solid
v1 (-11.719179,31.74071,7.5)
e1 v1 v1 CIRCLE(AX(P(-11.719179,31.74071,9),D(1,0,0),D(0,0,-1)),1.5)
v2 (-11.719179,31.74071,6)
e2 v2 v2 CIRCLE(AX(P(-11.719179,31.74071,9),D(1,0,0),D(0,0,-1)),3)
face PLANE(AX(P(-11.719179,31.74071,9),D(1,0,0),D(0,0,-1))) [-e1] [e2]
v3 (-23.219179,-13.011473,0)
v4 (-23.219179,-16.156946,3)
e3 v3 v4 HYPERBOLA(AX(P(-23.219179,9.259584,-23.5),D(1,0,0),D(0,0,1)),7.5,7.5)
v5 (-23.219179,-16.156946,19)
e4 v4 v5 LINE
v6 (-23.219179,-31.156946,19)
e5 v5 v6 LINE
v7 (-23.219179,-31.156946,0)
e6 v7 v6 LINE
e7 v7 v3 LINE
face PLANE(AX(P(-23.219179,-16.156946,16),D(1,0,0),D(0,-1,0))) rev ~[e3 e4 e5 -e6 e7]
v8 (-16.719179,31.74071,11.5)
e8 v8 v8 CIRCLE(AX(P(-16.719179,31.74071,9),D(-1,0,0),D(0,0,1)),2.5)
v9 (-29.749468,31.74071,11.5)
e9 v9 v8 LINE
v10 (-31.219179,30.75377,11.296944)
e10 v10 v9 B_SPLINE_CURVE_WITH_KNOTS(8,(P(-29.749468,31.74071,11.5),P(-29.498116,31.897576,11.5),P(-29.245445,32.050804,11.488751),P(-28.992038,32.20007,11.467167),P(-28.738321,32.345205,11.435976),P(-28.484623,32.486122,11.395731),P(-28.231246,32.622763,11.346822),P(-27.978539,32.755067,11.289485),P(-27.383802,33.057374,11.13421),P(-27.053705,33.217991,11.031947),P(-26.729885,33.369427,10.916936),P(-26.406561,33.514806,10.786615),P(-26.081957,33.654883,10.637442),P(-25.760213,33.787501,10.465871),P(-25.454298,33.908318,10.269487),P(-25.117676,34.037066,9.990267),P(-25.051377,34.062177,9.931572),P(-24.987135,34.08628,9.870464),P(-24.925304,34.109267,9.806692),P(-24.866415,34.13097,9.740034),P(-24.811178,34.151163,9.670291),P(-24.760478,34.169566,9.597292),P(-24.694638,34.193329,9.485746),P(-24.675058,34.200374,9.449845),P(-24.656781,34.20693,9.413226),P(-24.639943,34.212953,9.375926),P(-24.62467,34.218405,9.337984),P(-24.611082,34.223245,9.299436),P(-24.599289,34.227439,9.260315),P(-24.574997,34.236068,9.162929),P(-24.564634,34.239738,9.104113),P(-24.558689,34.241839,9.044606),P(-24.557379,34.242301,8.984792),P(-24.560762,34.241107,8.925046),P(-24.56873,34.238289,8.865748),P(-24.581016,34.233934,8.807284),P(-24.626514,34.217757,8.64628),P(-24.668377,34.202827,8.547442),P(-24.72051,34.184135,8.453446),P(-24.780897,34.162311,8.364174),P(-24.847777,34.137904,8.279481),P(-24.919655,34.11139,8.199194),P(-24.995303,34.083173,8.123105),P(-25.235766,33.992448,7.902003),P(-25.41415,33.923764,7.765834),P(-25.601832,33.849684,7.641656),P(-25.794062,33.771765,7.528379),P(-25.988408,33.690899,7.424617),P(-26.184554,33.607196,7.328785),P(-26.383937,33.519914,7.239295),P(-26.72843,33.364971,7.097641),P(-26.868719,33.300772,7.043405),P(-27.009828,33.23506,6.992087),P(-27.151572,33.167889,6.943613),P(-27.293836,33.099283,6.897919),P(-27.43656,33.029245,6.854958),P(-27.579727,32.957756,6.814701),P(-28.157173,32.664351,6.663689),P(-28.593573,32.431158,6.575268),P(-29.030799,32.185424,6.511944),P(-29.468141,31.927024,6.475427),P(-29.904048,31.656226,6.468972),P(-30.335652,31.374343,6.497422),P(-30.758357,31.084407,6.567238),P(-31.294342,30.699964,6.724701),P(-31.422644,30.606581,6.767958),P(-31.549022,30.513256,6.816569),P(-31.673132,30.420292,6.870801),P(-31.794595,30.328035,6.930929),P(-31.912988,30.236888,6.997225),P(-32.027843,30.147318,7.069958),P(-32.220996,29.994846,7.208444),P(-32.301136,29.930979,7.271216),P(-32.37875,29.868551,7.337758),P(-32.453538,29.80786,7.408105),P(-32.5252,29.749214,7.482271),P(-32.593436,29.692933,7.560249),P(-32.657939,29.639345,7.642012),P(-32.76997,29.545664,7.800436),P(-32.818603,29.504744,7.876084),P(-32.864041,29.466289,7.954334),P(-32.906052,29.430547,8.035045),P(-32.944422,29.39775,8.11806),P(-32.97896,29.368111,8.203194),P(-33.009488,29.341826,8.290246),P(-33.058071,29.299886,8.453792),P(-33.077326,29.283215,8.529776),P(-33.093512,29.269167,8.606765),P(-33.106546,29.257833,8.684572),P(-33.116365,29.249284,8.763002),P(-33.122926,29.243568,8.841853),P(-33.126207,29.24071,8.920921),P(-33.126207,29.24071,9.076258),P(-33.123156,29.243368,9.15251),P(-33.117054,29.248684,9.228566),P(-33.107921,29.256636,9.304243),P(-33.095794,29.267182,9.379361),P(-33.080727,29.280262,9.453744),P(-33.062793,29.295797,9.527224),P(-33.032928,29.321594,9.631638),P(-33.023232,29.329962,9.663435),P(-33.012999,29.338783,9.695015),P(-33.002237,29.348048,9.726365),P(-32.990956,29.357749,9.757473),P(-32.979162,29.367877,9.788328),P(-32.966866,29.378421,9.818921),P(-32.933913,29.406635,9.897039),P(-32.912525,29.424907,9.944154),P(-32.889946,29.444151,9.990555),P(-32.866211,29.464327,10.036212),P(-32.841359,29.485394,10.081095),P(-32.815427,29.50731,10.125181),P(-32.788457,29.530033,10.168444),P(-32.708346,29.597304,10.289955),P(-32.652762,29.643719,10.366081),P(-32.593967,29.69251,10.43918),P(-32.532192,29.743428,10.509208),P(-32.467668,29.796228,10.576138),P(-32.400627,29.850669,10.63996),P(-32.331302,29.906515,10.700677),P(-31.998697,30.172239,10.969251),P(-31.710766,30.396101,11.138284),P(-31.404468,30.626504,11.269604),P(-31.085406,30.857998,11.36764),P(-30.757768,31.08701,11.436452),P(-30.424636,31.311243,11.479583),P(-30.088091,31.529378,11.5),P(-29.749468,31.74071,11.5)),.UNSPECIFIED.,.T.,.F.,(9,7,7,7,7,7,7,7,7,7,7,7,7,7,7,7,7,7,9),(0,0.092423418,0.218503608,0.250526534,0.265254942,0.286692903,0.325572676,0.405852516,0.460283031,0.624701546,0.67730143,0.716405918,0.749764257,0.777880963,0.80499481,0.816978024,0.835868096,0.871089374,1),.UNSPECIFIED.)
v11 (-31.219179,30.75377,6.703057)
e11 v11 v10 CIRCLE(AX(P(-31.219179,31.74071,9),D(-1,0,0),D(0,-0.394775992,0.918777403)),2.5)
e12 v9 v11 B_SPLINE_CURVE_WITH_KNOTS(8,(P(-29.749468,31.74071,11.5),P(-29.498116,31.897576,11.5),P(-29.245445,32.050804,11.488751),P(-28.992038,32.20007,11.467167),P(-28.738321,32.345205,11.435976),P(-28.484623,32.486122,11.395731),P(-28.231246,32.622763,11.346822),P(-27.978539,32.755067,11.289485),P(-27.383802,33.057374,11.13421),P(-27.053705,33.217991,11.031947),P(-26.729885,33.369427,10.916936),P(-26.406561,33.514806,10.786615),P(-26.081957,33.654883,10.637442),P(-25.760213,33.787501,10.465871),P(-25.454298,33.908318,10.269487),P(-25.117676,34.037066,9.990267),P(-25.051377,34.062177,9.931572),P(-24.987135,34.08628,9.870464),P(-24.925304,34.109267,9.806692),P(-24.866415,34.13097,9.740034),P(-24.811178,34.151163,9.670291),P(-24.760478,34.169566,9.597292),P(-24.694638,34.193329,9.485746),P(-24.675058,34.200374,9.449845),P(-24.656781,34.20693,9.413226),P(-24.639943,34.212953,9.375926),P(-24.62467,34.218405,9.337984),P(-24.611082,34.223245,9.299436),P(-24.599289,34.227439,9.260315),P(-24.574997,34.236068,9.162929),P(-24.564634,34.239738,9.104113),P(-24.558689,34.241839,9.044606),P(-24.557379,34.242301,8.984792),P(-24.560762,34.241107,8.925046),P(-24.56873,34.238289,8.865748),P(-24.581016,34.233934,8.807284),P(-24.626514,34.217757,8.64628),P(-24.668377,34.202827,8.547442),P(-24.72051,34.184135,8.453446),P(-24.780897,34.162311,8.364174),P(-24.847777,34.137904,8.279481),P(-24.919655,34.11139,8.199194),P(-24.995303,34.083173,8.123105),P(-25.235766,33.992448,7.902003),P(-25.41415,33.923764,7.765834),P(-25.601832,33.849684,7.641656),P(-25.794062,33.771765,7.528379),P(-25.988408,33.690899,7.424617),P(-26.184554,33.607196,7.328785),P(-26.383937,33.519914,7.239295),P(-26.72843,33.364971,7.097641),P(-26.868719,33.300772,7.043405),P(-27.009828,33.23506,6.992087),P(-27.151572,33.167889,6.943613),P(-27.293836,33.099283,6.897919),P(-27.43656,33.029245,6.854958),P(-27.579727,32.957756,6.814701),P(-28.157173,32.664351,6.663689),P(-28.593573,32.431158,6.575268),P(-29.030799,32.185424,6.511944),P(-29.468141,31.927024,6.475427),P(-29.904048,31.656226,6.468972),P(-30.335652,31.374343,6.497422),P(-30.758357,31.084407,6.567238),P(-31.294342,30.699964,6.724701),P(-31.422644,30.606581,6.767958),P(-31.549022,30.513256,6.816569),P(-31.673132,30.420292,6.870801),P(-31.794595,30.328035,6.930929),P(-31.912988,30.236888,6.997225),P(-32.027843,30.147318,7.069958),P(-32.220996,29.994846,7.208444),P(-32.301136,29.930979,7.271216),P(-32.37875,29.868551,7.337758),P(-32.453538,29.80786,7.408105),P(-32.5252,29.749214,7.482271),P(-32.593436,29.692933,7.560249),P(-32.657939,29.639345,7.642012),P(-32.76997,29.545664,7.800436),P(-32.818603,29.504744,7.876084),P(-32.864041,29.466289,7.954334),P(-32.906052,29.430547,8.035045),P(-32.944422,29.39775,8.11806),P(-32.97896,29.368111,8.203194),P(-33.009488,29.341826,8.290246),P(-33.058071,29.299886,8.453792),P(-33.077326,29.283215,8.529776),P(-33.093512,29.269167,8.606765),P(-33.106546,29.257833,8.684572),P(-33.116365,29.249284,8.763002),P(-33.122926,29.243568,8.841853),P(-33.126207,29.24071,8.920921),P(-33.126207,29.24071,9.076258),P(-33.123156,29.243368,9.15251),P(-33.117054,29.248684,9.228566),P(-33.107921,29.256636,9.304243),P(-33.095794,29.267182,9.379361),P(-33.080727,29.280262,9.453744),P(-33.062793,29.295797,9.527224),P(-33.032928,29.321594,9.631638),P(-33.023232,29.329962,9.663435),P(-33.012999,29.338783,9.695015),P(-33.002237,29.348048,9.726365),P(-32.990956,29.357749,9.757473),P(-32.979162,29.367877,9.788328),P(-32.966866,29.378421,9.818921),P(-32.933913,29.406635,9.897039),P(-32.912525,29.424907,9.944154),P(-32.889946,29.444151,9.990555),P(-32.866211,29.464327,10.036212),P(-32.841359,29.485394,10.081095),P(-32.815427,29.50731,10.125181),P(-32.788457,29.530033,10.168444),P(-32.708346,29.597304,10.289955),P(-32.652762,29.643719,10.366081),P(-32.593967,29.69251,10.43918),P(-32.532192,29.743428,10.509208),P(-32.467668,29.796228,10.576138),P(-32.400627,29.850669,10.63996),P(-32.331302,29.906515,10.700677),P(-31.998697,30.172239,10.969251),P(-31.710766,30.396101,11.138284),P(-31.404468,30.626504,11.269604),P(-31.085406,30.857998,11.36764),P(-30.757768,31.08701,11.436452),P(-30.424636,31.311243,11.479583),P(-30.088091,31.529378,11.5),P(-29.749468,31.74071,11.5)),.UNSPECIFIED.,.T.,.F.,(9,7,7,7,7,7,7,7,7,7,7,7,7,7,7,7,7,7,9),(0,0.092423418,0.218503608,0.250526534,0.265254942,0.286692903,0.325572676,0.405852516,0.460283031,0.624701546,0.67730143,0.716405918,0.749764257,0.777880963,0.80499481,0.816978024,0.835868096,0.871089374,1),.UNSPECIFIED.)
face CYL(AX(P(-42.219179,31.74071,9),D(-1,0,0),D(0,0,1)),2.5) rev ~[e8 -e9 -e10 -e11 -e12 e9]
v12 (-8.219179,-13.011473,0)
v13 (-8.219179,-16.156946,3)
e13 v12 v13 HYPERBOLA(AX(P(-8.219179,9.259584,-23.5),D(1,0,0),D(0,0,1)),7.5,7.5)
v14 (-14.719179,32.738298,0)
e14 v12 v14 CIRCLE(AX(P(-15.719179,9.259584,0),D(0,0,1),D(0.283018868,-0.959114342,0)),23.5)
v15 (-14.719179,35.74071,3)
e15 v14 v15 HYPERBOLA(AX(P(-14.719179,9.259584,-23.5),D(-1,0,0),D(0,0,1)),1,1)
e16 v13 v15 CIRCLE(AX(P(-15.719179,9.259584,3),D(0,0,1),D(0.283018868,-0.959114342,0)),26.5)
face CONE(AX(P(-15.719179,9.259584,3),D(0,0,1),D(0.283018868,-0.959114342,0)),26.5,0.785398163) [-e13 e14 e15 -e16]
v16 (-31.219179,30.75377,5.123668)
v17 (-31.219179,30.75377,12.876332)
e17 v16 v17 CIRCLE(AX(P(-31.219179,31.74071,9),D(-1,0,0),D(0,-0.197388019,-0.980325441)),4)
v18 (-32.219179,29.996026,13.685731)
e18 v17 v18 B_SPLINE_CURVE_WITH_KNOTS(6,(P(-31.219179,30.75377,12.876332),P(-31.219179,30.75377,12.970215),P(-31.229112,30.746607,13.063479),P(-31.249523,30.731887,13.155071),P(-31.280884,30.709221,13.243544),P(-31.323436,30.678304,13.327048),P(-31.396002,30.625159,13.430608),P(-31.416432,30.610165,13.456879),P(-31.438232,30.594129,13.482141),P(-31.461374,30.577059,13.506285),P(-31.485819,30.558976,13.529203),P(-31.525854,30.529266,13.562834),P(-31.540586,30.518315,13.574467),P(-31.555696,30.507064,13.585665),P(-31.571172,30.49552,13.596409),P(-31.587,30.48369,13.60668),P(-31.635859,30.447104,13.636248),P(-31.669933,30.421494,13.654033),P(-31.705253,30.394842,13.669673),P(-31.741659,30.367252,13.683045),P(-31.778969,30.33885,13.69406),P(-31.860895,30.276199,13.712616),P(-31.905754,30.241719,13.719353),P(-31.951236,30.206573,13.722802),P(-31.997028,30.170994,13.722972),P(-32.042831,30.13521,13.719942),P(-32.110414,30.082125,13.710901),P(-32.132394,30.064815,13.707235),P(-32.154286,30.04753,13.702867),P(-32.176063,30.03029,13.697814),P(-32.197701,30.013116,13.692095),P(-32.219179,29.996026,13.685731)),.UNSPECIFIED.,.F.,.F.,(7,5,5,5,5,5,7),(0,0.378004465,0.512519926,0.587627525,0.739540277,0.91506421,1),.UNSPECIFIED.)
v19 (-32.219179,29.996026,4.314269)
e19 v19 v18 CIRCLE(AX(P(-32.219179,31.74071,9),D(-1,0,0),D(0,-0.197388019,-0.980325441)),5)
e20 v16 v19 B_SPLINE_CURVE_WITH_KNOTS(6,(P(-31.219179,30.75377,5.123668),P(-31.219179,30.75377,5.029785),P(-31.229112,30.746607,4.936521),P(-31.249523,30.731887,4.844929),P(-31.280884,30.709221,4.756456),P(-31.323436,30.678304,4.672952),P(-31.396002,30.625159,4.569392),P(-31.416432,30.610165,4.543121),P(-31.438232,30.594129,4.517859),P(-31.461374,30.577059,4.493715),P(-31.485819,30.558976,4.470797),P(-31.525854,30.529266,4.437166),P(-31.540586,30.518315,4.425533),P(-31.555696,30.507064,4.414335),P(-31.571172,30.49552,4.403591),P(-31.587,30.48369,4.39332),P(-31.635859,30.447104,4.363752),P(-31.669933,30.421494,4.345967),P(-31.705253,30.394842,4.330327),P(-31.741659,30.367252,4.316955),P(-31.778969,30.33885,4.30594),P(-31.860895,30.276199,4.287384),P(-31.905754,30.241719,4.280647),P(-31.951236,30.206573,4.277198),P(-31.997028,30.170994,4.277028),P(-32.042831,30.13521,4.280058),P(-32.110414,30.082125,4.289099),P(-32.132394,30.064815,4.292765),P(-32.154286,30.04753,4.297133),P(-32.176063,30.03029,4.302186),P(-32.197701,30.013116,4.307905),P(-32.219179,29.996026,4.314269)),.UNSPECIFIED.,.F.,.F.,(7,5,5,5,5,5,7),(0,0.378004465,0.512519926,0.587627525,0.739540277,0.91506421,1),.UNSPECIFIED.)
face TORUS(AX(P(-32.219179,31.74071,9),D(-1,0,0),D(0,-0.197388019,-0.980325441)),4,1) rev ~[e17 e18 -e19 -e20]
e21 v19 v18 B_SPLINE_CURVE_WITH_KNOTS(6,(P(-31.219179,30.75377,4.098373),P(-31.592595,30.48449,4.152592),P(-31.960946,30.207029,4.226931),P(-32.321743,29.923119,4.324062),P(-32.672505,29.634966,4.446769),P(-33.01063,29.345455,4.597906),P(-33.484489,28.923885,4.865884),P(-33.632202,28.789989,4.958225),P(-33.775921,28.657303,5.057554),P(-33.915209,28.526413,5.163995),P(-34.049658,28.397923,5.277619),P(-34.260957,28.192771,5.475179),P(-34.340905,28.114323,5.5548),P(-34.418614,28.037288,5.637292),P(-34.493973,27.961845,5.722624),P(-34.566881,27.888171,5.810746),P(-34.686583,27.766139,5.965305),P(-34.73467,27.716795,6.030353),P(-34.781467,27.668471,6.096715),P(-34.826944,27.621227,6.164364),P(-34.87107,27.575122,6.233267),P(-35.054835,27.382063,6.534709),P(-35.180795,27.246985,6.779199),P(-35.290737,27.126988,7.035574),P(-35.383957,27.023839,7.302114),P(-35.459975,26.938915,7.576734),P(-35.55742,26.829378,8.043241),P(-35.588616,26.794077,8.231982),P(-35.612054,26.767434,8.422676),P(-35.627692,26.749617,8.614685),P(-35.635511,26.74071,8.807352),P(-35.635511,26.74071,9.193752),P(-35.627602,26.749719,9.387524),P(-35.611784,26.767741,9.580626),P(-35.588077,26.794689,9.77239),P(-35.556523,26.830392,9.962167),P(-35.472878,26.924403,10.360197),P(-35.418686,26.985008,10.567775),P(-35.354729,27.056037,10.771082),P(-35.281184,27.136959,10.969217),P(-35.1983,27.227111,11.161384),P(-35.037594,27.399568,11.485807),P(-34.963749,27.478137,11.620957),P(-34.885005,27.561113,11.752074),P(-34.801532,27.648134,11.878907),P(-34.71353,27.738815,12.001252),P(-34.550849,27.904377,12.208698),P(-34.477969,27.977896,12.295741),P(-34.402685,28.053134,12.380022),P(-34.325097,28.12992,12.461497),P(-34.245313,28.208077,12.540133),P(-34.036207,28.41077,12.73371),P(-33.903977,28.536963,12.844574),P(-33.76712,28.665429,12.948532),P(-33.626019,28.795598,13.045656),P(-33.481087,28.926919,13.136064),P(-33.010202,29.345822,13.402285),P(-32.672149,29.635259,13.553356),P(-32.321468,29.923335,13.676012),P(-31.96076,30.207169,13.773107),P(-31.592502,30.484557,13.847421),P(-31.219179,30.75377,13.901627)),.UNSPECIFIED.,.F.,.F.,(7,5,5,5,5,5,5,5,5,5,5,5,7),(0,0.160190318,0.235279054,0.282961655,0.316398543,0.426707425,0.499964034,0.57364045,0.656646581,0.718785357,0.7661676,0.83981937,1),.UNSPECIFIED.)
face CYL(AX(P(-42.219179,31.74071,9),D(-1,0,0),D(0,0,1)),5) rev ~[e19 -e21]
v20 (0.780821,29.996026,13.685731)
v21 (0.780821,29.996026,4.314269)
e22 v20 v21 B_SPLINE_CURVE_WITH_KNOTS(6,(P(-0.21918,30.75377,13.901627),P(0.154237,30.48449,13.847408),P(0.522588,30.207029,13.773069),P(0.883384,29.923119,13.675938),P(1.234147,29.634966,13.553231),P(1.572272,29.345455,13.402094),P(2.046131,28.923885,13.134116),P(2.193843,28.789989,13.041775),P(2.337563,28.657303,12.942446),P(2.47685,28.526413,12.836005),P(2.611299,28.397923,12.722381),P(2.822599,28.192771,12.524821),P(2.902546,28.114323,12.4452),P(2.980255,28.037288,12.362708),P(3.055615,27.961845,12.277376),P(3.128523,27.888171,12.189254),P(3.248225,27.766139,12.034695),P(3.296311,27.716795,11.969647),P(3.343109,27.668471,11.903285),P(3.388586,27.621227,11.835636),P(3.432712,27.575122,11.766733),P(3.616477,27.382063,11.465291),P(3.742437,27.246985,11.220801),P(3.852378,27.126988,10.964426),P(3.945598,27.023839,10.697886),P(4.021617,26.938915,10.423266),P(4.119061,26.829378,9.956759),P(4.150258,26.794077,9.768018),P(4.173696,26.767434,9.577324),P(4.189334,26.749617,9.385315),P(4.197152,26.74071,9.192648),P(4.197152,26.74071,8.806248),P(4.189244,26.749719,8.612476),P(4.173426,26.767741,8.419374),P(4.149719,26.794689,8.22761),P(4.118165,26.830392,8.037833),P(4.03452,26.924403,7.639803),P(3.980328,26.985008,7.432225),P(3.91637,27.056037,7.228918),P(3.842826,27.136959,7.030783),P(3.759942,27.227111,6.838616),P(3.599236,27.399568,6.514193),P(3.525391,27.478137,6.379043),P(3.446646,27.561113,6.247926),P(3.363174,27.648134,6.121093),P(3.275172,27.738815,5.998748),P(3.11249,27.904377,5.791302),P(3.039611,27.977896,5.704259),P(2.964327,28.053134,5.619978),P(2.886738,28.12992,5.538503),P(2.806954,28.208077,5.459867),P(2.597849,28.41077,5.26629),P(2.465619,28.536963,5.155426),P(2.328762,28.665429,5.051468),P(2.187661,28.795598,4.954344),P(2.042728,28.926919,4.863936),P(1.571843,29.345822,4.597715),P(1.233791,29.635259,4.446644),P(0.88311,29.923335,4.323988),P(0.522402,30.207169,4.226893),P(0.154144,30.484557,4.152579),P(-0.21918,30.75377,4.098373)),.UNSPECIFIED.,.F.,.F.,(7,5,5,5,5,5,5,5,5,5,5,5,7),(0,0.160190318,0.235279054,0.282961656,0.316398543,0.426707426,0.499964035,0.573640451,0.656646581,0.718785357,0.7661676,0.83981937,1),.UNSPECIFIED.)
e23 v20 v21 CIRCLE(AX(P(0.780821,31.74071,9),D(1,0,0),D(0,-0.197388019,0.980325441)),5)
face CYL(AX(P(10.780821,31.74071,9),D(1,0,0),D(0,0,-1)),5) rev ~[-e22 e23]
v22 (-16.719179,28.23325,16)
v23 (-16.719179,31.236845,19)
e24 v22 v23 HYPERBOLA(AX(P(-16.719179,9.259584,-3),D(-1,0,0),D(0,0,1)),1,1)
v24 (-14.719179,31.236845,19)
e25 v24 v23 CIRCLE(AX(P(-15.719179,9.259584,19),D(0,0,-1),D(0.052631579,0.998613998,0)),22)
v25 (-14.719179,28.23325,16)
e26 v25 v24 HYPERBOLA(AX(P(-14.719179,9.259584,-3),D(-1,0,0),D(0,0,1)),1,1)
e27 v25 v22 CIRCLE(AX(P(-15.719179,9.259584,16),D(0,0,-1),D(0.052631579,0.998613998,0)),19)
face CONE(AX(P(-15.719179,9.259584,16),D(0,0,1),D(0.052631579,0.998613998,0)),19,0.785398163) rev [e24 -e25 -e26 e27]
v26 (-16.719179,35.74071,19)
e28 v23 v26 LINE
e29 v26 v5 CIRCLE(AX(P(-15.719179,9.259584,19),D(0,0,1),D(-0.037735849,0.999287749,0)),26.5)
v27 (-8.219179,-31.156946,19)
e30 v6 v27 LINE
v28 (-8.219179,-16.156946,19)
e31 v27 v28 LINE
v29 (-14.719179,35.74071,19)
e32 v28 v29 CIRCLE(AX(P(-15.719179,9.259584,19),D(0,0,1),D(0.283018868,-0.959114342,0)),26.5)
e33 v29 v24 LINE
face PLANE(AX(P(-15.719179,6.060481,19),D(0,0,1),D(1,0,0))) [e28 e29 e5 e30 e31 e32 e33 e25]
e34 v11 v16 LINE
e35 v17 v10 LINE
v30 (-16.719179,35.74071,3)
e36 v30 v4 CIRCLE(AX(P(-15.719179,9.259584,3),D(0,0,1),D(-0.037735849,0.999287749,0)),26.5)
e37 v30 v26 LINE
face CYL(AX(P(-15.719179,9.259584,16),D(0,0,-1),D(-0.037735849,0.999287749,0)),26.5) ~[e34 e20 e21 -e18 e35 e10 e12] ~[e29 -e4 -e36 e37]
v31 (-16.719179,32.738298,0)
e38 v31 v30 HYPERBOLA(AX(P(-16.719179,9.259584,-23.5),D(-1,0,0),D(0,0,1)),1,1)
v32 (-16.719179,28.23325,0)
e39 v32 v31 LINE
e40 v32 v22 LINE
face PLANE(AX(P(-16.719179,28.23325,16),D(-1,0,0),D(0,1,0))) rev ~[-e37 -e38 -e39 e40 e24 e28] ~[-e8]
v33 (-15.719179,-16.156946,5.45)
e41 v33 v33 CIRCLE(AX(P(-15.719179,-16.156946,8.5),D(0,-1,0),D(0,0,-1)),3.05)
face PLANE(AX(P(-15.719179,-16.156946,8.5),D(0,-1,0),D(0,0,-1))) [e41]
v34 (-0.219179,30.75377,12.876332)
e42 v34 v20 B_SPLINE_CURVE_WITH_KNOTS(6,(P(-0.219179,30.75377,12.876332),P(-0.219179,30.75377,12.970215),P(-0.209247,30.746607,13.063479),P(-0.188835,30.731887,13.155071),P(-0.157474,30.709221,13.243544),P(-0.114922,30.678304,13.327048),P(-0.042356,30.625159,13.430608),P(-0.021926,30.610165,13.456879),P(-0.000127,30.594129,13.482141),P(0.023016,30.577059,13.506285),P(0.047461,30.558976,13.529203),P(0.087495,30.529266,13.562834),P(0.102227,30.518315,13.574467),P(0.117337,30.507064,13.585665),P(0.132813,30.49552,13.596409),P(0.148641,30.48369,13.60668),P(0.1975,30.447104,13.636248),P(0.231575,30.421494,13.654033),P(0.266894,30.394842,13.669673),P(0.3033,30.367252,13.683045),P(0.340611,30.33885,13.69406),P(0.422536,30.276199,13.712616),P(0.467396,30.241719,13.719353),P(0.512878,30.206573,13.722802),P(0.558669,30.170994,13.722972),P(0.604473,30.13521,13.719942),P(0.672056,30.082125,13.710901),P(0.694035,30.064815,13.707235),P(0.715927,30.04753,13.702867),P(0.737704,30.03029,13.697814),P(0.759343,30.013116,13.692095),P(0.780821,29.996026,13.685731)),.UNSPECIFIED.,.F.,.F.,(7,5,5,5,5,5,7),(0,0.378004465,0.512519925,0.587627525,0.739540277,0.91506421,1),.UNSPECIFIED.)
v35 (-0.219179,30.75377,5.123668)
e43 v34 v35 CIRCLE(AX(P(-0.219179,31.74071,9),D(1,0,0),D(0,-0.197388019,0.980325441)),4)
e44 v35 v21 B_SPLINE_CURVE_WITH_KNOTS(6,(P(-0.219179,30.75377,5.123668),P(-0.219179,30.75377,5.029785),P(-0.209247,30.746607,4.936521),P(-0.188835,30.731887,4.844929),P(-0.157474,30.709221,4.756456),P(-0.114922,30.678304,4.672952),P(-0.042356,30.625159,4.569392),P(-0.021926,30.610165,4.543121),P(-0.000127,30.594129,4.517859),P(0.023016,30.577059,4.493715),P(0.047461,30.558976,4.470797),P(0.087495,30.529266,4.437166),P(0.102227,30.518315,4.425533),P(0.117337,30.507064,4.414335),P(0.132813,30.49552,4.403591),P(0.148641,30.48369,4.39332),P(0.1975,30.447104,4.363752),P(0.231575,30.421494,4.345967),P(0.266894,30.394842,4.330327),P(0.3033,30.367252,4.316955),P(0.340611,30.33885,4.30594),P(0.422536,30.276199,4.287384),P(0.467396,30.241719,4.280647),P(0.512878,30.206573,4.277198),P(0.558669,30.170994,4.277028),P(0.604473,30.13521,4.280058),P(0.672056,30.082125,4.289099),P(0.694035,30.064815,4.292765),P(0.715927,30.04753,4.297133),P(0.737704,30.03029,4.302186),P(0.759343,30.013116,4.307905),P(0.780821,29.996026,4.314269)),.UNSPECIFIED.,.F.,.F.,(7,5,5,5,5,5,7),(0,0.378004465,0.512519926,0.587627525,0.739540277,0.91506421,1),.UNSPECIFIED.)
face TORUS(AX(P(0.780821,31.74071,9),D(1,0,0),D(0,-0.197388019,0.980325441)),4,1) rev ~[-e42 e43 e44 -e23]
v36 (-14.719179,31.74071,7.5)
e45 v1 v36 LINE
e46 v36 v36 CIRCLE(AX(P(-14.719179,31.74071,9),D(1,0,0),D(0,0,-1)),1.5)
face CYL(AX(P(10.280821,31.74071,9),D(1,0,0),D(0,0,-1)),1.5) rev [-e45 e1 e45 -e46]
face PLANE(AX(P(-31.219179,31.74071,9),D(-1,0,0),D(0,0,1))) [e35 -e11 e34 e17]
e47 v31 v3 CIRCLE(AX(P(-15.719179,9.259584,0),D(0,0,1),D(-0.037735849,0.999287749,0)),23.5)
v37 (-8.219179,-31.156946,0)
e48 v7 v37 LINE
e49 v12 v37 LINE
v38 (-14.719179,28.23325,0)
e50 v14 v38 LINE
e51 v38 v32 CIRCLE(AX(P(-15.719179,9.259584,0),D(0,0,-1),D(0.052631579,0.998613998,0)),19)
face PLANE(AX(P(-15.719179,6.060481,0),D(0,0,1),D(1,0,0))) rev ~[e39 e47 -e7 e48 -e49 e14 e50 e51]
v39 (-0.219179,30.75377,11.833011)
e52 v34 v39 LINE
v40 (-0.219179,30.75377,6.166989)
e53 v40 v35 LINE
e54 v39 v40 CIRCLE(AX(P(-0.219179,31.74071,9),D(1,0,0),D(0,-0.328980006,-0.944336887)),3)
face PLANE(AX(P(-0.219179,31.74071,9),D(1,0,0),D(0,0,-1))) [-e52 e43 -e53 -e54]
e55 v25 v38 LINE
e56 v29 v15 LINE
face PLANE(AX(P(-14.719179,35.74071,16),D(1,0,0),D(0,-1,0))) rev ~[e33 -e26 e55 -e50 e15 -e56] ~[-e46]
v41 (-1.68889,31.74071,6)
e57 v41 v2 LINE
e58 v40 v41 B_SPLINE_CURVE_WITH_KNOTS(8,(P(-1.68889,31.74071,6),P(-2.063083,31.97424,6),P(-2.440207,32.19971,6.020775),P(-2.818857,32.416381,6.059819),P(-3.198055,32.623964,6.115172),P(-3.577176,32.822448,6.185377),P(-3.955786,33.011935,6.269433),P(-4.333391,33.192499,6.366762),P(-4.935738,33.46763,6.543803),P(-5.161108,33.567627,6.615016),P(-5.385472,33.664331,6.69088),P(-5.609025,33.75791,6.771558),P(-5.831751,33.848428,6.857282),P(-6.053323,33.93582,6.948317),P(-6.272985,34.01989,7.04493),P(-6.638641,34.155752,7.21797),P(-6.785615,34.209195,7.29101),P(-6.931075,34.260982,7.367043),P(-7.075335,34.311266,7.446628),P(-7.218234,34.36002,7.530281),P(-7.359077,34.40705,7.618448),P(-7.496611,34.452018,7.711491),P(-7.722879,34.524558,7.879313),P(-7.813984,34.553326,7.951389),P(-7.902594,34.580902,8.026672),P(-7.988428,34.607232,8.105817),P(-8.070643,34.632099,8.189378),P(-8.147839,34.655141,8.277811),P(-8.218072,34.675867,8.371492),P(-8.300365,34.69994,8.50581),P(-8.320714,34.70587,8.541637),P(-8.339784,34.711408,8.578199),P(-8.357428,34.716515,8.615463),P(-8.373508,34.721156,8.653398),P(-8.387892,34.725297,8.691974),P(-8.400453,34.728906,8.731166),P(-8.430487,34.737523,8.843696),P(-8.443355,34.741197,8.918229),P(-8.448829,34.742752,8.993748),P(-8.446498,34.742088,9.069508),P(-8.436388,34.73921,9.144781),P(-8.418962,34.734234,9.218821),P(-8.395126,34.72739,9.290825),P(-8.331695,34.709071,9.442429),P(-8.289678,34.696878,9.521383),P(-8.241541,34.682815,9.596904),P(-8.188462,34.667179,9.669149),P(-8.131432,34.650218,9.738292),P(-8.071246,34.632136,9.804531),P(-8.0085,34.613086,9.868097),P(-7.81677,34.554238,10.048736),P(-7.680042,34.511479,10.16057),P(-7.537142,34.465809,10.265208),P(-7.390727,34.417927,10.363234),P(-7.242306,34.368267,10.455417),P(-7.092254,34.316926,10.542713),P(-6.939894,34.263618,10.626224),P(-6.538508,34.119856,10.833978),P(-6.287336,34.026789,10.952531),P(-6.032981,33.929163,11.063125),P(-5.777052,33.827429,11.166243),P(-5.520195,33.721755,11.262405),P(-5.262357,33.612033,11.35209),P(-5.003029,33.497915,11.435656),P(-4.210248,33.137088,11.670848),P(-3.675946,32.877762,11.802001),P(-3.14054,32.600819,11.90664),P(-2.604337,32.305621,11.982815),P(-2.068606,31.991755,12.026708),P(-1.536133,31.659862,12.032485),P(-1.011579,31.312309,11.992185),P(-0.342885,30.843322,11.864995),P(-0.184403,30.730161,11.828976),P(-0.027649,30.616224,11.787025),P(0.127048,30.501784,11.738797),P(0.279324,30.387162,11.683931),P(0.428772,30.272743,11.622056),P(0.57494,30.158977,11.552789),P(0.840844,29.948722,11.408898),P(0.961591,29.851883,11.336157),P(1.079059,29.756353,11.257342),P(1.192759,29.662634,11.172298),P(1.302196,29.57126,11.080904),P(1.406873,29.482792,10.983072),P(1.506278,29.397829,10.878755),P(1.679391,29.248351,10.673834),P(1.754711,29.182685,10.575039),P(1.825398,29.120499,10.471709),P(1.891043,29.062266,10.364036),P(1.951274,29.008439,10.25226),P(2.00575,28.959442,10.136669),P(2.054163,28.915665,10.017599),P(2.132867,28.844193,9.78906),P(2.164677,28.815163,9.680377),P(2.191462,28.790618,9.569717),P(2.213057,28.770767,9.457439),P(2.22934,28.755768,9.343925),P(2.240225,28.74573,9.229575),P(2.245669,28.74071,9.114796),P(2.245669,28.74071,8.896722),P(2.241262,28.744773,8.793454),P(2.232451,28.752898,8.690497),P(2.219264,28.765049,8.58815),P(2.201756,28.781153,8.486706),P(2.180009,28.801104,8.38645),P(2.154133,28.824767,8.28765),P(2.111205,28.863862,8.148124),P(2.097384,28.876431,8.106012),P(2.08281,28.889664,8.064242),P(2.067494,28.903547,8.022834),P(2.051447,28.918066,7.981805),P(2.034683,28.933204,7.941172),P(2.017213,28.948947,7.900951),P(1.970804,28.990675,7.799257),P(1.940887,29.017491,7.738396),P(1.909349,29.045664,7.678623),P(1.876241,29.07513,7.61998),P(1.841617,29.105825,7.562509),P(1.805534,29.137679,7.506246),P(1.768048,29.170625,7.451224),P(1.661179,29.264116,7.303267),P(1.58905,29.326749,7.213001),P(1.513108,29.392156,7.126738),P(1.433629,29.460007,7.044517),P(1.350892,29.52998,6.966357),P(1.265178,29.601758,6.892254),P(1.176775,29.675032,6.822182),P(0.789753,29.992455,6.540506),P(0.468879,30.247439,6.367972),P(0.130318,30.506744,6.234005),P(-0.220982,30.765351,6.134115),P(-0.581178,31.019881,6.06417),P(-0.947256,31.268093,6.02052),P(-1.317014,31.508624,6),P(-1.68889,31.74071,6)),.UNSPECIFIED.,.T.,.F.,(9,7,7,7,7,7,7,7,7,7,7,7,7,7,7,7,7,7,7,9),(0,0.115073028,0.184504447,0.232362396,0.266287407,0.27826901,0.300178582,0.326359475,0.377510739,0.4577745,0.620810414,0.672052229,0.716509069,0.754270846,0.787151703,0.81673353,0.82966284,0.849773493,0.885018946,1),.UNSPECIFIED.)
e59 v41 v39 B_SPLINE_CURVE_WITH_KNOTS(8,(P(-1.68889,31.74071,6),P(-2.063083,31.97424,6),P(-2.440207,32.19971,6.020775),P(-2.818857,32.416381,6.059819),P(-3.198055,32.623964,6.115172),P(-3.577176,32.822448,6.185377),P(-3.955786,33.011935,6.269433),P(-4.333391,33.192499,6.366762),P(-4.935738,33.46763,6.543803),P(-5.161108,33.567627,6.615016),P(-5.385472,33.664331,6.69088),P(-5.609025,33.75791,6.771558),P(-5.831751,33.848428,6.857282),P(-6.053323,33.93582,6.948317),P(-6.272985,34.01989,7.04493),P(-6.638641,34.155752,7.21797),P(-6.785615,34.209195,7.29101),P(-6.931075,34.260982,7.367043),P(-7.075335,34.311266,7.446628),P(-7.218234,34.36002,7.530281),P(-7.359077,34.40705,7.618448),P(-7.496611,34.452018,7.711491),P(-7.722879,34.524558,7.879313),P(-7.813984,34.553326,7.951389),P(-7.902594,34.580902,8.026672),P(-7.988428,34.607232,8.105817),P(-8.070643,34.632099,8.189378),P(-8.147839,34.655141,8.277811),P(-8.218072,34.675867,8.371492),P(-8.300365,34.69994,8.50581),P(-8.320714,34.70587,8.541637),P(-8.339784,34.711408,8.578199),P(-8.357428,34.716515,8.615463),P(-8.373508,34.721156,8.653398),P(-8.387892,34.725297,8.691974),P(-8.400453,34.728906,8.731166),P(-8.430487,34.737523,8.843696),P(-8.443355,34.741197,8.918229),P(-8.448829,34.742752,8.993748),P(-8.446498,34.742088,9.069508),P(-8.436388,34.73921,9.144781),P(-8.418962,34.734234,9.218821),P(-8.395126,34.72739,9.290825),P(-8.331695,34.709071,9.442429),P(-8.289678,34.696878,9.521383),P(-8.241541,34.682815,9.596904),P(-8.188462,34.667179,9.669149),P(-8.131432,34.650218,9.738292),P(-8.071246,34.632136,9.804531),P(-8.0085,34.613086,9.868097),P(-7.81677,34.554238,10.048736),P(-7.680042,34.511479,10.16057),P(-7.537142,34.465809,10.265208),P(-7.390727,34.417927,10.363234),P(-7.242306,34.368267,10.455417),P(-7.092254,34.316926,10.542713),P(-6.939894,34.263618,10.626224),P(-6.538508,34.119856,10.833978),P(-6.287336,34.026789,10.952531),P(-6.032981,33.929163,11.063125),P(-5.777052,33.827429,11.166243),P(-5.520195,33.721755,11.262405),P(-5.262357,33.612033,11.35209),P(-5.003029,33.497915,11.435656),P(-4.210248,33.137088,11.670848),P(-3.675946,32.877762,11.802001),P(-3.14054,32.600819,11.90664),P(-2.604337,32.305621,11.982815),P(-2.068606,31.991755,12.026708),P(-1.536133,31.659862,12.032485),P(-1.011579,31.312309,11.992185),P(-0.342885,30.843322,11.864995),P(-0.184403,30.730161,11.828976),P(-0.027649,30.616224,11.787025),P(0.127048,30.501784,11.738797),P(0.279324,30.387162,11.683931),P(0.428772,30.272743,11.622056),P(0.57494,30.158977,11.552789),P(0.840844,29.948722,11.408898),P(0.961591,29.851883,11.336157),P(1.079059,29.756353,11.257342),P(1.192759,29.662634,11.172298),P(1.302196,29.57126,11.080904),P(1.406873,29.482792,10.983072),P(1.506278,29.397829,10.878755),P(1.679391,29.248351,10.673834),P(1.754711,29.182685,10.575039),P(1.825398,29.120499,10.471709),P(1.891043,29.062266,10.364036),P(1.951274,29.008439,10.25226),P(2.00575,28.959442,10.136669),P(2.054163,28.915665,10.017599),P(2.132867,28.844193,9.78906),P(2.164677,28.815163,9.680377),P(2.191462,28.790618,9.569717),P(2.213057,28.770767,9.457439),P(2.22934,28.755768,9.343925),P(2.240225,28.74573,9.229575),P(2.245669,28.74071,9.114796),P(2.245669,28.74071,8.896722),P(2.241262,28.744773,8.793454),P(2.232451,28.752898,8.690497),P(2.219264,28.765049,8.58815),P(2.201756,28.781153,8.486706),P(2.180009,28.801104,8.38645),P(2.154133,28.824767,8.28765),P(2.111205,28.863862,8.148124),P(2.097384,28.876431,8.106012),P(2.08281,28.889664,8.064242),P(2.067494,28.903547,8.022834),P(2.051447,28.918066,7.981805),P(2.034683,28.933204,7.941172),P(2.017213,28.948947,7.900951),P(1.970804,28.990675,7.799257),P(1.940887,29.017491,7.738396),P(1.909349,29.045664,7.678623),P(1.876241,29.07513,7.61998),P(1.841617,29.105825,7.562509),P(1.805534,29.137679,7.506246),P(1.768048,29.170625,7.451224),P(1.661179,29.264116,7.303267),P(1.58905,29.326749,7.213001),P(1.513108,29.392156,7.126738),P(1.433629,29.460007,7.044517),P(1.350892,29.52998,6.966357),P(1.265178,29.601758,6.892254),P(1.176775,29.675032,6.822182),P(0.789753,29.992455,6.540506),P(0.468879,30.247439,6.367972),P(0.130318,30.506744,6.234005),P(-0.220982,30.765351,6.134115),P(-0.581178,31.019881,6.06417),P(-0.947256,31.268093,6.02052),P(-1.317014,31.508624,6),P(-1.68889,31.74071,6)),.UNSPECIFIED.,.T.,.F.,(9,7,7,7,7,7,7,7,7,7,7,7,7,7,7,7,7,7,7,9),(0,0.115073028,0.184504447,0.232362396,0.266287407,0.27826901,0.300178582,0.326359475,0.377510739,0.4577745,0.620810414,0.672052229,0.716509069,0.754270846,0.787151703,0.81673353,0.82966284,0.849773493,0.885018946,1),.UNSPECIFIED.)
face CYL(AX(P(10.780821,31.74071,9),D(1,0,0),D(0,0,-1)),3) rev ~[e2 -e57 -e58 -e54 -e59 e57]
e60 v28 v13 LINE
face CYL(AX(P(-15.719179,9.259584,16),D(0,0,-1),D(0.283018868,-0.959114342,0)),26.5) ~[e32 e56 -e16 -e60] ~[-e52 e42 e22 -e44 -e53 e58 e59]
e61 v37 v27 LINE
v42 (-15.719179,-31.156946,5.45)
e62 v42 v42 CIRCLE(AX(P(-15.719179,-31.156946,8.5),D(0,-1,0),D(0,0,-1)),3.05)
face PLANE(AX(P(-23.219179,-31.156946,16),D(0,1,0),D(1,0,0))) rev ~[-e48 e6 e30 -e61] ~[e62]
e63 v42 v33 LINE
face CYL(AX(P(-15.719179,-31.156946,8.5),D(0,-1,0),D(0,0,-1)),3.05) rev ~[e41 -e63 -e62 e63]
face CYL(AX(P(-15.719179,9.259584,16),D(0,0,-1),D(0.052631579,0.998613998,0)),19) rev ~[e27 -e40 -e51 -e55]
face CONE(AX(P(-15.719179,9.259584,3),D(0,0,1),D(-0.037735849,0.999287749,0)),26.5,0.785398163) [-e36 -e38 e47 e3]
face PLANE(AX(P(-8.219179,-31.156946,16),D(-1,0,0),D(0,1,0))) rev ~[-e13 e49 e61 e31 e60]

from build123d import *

# Parameters (mm, degrees)
BOSS_EXTRUDE1_DEPTH     = 16
SKETCH2_R               = 3.05
CUT_EXTRUDE1_DEPTH      = 15
BOSS_EXTRUDE2_DEPTH     = 3
CHAMFER4_SIZE           = 3
CUT_EXTRUDE2_DEPTH      = 29
CUT_EXTRUDE2_DEPTH_BACK = 25
SKETCH4_R               = 1.5
SKETCH5_R               = 2.5
CUT_EXTRUDE3_DEPTH      = 27.5
SKETCH6_R               = 3
CUT_EXTRUDE4_DEPTH      = 22.5
SKETCH5_3_R             = 5
SKETCH5_3_R_2           = 2.5
CUT_EXTRUDE5_DEPTH      = 11
SKETCH6_3_R             = 5
SKETCH6_3_R_2           = 3
CUT_EXTRUDE6_DEPTH      = 11
FILLET1_R               = 1


with BuildPart() as part:
    # Sketch1 → Boss-Extrude1 (new body)
    with BuildSketch(Plane.XY):
        with BuildLine():
            ThreePointArc((-14.719179189, 28.233250262), (-15.719179189, -9.740415699), (-16.719179189, 28.233250262))
            Line((-16.719179189, 28.233250262), (-16.719179189, 35.740709655))
            ThreePointArc((-16.719179189, 35.740709655), (-42.013744392, 12.552886715), (-23.219179189, -16.156945753))
            Line((-23.219179189, -16.156945753), (-23.219179189, -31.156945753))
            Line((-23.219179189, -31.156945753), (-8.219179189, -31.156945753))
            Line((-8.219179189, -31.156945753), (-8.219179189, -16.156945753))
            ThreePointArc((-8.219179189, -16.156945753), (10.575386014, 12.552886715), (-14.719179189, 35.740709655))
            Line((-14.719179189, 35.740709655), (-14.719179189, 28.233250262))
        make_face()
    extrude(amount=BOSS_EXTRUDE1_DEPTH)

    # Sketch2 → Cut-Extrude1 (cut)
    with BuildSketch(Plane.XZ.offset(31.156945753)):
        with Locations(Location((-15.719179189, 8.5, 0), (0, 0, 270))):
            Circle(SKETCH2_R)
    extrude(amount=-CUT_EXTRUDE1_DEPTH, mode=Mode.SUBTRACT)

    # Sketch3 → Boss-Extrude2 (add)
    with BuildSketch(Plane.XY.offset(16)):
        with BuildLine():
            ThreePointArc((-14.719179189, 28.233250262), (-15.719179189, -9.740415699), (-16.719179189, 28.233250262))
            Line((-16.719179189, 28.233250262), (-16.719179189, 35.740709655))
            ThreePointArc((-16.719179189, 35.740709655), (-42.013744392, 12.552886715), (-23.219179189, -16.156945753))
            Line((-23.219179189, -16.156945753), (-23.219179189, -31.156945753))
            Line((-23.219179189, -31.156945753), (-8.219179189, -31.156945753))
            Line((-8.219179189, -31.156945753), (-8.219179189, -16.156945753))
            ThreePointArc((-8.219179189, -16.156945753), (10.575386014, 12.552886715), (-14.719179189, 35.740709655))
            Line((-14.719179189, 35.740709655), (-14.719179189, 28.233250262))
        make_face()
    extrude(amount=BOSS_EXTRUDE2_DEPTH)

    # Chamfer4
    chamfer4_edges = [part.edges().sort_by_distance(p)[0] for p in [
        (-15.719179189, -9.740415699, 19),
        (10.575386014, 12.552886715, 0),
        (-42.013744392, 12.552886715, 0),
    ]]
    chamfer(chamfer4_edges, length=CHAMFER4_SIZE)

    # Sketch4 → Cut-Extrude2 (cut, two sides: drawn at the far end of the back side and taken through both)
    with BuildSketch(Plane.ZY.offset(14.719179189).offset(-CUT_EXTRUDE2_DEPTH_BACK)):
        with Locations(Location((9, 31.740709655, 0), (0, 0, 180))):
            Circle(SKETCH4_R)
    extrude(amount=CUT_EXTRUDE2_DEPTH + CUT_EXTRUDE2_DEPTH_BACK, mode=Mode.SUBTRACT)

    # Sketch5 → Cut-Extrude3 (cut)
    with BuildSketch(Plane.ZY.offset(42.219179189)):
        with Locations((9, 31.740709655)):
            Circle(SKETCH5_R)
    extrude(amount=-CUT_EXTRUDE3_DEPTH, mode=Mode.SUBTRACT)

    # Sketch6 → Cut-Extrude4 (cut)
    with BuildSketch(Plane(origin=(10.780820811, 0, 0), x_dir=(0, 0, -1), z_dir=(1, 0, 0))):
        with Locations((-9, 31.740709655)):
            Circle(SKETCH6_R)
    extrude(amount=-CUT_EXTRUDE4_DEPTH, mode=Mode.SUBTRACT)

    # Sketch5<3> → Cut-Extrude5 (cut)
    with BuildSketch(Plane.ZY.offset(42.219179189)):
        with Locations((9, 31.740709655)):
            Circle(SKETCH5_3_R)
        with Locations(Location((9, 31.740709655, 0), (0, 0, 336.747995985))):
            Circle(SKETCH5_3_R_2, mode=Mode.SUBTRACT)
    extrude(amount=-CUT_EXTRUDE5_DEPTH, mode=Mode.SUBTRACT)

    # Sketch6<3> → Cut-Extrude6 (cut)
    with BuildSketch(Plane(origin=(10.780820811, 0, 0), x_dir=(0, 0, -1), z_dir=(1, 0, 0))):
        with Locations((-9, 31.740709655)):
            Circle(SKETCH6_3_R)
        with Locations(Location((-9, 31.740709655, 0), (0, 0, 340.793122324))):
            Circle(SKETCH6_3_R_2, mode=Mode.SUBTRACT)
    extrude(amount=-CUT_EXTRUDE6_DEPTH, mode=Mode.SUBTRACT)

    # Fillet1
    fillet1_edges = [part.edges().sort_by_distance(p)[0] for p in [
        (-31.219179189, 26.740709655, 9),
        (-0.219179189, 26.740709655, 9),
    ]]
    fillet(fillet1_edges, radius=FILLET1_R)


solid = part.part
